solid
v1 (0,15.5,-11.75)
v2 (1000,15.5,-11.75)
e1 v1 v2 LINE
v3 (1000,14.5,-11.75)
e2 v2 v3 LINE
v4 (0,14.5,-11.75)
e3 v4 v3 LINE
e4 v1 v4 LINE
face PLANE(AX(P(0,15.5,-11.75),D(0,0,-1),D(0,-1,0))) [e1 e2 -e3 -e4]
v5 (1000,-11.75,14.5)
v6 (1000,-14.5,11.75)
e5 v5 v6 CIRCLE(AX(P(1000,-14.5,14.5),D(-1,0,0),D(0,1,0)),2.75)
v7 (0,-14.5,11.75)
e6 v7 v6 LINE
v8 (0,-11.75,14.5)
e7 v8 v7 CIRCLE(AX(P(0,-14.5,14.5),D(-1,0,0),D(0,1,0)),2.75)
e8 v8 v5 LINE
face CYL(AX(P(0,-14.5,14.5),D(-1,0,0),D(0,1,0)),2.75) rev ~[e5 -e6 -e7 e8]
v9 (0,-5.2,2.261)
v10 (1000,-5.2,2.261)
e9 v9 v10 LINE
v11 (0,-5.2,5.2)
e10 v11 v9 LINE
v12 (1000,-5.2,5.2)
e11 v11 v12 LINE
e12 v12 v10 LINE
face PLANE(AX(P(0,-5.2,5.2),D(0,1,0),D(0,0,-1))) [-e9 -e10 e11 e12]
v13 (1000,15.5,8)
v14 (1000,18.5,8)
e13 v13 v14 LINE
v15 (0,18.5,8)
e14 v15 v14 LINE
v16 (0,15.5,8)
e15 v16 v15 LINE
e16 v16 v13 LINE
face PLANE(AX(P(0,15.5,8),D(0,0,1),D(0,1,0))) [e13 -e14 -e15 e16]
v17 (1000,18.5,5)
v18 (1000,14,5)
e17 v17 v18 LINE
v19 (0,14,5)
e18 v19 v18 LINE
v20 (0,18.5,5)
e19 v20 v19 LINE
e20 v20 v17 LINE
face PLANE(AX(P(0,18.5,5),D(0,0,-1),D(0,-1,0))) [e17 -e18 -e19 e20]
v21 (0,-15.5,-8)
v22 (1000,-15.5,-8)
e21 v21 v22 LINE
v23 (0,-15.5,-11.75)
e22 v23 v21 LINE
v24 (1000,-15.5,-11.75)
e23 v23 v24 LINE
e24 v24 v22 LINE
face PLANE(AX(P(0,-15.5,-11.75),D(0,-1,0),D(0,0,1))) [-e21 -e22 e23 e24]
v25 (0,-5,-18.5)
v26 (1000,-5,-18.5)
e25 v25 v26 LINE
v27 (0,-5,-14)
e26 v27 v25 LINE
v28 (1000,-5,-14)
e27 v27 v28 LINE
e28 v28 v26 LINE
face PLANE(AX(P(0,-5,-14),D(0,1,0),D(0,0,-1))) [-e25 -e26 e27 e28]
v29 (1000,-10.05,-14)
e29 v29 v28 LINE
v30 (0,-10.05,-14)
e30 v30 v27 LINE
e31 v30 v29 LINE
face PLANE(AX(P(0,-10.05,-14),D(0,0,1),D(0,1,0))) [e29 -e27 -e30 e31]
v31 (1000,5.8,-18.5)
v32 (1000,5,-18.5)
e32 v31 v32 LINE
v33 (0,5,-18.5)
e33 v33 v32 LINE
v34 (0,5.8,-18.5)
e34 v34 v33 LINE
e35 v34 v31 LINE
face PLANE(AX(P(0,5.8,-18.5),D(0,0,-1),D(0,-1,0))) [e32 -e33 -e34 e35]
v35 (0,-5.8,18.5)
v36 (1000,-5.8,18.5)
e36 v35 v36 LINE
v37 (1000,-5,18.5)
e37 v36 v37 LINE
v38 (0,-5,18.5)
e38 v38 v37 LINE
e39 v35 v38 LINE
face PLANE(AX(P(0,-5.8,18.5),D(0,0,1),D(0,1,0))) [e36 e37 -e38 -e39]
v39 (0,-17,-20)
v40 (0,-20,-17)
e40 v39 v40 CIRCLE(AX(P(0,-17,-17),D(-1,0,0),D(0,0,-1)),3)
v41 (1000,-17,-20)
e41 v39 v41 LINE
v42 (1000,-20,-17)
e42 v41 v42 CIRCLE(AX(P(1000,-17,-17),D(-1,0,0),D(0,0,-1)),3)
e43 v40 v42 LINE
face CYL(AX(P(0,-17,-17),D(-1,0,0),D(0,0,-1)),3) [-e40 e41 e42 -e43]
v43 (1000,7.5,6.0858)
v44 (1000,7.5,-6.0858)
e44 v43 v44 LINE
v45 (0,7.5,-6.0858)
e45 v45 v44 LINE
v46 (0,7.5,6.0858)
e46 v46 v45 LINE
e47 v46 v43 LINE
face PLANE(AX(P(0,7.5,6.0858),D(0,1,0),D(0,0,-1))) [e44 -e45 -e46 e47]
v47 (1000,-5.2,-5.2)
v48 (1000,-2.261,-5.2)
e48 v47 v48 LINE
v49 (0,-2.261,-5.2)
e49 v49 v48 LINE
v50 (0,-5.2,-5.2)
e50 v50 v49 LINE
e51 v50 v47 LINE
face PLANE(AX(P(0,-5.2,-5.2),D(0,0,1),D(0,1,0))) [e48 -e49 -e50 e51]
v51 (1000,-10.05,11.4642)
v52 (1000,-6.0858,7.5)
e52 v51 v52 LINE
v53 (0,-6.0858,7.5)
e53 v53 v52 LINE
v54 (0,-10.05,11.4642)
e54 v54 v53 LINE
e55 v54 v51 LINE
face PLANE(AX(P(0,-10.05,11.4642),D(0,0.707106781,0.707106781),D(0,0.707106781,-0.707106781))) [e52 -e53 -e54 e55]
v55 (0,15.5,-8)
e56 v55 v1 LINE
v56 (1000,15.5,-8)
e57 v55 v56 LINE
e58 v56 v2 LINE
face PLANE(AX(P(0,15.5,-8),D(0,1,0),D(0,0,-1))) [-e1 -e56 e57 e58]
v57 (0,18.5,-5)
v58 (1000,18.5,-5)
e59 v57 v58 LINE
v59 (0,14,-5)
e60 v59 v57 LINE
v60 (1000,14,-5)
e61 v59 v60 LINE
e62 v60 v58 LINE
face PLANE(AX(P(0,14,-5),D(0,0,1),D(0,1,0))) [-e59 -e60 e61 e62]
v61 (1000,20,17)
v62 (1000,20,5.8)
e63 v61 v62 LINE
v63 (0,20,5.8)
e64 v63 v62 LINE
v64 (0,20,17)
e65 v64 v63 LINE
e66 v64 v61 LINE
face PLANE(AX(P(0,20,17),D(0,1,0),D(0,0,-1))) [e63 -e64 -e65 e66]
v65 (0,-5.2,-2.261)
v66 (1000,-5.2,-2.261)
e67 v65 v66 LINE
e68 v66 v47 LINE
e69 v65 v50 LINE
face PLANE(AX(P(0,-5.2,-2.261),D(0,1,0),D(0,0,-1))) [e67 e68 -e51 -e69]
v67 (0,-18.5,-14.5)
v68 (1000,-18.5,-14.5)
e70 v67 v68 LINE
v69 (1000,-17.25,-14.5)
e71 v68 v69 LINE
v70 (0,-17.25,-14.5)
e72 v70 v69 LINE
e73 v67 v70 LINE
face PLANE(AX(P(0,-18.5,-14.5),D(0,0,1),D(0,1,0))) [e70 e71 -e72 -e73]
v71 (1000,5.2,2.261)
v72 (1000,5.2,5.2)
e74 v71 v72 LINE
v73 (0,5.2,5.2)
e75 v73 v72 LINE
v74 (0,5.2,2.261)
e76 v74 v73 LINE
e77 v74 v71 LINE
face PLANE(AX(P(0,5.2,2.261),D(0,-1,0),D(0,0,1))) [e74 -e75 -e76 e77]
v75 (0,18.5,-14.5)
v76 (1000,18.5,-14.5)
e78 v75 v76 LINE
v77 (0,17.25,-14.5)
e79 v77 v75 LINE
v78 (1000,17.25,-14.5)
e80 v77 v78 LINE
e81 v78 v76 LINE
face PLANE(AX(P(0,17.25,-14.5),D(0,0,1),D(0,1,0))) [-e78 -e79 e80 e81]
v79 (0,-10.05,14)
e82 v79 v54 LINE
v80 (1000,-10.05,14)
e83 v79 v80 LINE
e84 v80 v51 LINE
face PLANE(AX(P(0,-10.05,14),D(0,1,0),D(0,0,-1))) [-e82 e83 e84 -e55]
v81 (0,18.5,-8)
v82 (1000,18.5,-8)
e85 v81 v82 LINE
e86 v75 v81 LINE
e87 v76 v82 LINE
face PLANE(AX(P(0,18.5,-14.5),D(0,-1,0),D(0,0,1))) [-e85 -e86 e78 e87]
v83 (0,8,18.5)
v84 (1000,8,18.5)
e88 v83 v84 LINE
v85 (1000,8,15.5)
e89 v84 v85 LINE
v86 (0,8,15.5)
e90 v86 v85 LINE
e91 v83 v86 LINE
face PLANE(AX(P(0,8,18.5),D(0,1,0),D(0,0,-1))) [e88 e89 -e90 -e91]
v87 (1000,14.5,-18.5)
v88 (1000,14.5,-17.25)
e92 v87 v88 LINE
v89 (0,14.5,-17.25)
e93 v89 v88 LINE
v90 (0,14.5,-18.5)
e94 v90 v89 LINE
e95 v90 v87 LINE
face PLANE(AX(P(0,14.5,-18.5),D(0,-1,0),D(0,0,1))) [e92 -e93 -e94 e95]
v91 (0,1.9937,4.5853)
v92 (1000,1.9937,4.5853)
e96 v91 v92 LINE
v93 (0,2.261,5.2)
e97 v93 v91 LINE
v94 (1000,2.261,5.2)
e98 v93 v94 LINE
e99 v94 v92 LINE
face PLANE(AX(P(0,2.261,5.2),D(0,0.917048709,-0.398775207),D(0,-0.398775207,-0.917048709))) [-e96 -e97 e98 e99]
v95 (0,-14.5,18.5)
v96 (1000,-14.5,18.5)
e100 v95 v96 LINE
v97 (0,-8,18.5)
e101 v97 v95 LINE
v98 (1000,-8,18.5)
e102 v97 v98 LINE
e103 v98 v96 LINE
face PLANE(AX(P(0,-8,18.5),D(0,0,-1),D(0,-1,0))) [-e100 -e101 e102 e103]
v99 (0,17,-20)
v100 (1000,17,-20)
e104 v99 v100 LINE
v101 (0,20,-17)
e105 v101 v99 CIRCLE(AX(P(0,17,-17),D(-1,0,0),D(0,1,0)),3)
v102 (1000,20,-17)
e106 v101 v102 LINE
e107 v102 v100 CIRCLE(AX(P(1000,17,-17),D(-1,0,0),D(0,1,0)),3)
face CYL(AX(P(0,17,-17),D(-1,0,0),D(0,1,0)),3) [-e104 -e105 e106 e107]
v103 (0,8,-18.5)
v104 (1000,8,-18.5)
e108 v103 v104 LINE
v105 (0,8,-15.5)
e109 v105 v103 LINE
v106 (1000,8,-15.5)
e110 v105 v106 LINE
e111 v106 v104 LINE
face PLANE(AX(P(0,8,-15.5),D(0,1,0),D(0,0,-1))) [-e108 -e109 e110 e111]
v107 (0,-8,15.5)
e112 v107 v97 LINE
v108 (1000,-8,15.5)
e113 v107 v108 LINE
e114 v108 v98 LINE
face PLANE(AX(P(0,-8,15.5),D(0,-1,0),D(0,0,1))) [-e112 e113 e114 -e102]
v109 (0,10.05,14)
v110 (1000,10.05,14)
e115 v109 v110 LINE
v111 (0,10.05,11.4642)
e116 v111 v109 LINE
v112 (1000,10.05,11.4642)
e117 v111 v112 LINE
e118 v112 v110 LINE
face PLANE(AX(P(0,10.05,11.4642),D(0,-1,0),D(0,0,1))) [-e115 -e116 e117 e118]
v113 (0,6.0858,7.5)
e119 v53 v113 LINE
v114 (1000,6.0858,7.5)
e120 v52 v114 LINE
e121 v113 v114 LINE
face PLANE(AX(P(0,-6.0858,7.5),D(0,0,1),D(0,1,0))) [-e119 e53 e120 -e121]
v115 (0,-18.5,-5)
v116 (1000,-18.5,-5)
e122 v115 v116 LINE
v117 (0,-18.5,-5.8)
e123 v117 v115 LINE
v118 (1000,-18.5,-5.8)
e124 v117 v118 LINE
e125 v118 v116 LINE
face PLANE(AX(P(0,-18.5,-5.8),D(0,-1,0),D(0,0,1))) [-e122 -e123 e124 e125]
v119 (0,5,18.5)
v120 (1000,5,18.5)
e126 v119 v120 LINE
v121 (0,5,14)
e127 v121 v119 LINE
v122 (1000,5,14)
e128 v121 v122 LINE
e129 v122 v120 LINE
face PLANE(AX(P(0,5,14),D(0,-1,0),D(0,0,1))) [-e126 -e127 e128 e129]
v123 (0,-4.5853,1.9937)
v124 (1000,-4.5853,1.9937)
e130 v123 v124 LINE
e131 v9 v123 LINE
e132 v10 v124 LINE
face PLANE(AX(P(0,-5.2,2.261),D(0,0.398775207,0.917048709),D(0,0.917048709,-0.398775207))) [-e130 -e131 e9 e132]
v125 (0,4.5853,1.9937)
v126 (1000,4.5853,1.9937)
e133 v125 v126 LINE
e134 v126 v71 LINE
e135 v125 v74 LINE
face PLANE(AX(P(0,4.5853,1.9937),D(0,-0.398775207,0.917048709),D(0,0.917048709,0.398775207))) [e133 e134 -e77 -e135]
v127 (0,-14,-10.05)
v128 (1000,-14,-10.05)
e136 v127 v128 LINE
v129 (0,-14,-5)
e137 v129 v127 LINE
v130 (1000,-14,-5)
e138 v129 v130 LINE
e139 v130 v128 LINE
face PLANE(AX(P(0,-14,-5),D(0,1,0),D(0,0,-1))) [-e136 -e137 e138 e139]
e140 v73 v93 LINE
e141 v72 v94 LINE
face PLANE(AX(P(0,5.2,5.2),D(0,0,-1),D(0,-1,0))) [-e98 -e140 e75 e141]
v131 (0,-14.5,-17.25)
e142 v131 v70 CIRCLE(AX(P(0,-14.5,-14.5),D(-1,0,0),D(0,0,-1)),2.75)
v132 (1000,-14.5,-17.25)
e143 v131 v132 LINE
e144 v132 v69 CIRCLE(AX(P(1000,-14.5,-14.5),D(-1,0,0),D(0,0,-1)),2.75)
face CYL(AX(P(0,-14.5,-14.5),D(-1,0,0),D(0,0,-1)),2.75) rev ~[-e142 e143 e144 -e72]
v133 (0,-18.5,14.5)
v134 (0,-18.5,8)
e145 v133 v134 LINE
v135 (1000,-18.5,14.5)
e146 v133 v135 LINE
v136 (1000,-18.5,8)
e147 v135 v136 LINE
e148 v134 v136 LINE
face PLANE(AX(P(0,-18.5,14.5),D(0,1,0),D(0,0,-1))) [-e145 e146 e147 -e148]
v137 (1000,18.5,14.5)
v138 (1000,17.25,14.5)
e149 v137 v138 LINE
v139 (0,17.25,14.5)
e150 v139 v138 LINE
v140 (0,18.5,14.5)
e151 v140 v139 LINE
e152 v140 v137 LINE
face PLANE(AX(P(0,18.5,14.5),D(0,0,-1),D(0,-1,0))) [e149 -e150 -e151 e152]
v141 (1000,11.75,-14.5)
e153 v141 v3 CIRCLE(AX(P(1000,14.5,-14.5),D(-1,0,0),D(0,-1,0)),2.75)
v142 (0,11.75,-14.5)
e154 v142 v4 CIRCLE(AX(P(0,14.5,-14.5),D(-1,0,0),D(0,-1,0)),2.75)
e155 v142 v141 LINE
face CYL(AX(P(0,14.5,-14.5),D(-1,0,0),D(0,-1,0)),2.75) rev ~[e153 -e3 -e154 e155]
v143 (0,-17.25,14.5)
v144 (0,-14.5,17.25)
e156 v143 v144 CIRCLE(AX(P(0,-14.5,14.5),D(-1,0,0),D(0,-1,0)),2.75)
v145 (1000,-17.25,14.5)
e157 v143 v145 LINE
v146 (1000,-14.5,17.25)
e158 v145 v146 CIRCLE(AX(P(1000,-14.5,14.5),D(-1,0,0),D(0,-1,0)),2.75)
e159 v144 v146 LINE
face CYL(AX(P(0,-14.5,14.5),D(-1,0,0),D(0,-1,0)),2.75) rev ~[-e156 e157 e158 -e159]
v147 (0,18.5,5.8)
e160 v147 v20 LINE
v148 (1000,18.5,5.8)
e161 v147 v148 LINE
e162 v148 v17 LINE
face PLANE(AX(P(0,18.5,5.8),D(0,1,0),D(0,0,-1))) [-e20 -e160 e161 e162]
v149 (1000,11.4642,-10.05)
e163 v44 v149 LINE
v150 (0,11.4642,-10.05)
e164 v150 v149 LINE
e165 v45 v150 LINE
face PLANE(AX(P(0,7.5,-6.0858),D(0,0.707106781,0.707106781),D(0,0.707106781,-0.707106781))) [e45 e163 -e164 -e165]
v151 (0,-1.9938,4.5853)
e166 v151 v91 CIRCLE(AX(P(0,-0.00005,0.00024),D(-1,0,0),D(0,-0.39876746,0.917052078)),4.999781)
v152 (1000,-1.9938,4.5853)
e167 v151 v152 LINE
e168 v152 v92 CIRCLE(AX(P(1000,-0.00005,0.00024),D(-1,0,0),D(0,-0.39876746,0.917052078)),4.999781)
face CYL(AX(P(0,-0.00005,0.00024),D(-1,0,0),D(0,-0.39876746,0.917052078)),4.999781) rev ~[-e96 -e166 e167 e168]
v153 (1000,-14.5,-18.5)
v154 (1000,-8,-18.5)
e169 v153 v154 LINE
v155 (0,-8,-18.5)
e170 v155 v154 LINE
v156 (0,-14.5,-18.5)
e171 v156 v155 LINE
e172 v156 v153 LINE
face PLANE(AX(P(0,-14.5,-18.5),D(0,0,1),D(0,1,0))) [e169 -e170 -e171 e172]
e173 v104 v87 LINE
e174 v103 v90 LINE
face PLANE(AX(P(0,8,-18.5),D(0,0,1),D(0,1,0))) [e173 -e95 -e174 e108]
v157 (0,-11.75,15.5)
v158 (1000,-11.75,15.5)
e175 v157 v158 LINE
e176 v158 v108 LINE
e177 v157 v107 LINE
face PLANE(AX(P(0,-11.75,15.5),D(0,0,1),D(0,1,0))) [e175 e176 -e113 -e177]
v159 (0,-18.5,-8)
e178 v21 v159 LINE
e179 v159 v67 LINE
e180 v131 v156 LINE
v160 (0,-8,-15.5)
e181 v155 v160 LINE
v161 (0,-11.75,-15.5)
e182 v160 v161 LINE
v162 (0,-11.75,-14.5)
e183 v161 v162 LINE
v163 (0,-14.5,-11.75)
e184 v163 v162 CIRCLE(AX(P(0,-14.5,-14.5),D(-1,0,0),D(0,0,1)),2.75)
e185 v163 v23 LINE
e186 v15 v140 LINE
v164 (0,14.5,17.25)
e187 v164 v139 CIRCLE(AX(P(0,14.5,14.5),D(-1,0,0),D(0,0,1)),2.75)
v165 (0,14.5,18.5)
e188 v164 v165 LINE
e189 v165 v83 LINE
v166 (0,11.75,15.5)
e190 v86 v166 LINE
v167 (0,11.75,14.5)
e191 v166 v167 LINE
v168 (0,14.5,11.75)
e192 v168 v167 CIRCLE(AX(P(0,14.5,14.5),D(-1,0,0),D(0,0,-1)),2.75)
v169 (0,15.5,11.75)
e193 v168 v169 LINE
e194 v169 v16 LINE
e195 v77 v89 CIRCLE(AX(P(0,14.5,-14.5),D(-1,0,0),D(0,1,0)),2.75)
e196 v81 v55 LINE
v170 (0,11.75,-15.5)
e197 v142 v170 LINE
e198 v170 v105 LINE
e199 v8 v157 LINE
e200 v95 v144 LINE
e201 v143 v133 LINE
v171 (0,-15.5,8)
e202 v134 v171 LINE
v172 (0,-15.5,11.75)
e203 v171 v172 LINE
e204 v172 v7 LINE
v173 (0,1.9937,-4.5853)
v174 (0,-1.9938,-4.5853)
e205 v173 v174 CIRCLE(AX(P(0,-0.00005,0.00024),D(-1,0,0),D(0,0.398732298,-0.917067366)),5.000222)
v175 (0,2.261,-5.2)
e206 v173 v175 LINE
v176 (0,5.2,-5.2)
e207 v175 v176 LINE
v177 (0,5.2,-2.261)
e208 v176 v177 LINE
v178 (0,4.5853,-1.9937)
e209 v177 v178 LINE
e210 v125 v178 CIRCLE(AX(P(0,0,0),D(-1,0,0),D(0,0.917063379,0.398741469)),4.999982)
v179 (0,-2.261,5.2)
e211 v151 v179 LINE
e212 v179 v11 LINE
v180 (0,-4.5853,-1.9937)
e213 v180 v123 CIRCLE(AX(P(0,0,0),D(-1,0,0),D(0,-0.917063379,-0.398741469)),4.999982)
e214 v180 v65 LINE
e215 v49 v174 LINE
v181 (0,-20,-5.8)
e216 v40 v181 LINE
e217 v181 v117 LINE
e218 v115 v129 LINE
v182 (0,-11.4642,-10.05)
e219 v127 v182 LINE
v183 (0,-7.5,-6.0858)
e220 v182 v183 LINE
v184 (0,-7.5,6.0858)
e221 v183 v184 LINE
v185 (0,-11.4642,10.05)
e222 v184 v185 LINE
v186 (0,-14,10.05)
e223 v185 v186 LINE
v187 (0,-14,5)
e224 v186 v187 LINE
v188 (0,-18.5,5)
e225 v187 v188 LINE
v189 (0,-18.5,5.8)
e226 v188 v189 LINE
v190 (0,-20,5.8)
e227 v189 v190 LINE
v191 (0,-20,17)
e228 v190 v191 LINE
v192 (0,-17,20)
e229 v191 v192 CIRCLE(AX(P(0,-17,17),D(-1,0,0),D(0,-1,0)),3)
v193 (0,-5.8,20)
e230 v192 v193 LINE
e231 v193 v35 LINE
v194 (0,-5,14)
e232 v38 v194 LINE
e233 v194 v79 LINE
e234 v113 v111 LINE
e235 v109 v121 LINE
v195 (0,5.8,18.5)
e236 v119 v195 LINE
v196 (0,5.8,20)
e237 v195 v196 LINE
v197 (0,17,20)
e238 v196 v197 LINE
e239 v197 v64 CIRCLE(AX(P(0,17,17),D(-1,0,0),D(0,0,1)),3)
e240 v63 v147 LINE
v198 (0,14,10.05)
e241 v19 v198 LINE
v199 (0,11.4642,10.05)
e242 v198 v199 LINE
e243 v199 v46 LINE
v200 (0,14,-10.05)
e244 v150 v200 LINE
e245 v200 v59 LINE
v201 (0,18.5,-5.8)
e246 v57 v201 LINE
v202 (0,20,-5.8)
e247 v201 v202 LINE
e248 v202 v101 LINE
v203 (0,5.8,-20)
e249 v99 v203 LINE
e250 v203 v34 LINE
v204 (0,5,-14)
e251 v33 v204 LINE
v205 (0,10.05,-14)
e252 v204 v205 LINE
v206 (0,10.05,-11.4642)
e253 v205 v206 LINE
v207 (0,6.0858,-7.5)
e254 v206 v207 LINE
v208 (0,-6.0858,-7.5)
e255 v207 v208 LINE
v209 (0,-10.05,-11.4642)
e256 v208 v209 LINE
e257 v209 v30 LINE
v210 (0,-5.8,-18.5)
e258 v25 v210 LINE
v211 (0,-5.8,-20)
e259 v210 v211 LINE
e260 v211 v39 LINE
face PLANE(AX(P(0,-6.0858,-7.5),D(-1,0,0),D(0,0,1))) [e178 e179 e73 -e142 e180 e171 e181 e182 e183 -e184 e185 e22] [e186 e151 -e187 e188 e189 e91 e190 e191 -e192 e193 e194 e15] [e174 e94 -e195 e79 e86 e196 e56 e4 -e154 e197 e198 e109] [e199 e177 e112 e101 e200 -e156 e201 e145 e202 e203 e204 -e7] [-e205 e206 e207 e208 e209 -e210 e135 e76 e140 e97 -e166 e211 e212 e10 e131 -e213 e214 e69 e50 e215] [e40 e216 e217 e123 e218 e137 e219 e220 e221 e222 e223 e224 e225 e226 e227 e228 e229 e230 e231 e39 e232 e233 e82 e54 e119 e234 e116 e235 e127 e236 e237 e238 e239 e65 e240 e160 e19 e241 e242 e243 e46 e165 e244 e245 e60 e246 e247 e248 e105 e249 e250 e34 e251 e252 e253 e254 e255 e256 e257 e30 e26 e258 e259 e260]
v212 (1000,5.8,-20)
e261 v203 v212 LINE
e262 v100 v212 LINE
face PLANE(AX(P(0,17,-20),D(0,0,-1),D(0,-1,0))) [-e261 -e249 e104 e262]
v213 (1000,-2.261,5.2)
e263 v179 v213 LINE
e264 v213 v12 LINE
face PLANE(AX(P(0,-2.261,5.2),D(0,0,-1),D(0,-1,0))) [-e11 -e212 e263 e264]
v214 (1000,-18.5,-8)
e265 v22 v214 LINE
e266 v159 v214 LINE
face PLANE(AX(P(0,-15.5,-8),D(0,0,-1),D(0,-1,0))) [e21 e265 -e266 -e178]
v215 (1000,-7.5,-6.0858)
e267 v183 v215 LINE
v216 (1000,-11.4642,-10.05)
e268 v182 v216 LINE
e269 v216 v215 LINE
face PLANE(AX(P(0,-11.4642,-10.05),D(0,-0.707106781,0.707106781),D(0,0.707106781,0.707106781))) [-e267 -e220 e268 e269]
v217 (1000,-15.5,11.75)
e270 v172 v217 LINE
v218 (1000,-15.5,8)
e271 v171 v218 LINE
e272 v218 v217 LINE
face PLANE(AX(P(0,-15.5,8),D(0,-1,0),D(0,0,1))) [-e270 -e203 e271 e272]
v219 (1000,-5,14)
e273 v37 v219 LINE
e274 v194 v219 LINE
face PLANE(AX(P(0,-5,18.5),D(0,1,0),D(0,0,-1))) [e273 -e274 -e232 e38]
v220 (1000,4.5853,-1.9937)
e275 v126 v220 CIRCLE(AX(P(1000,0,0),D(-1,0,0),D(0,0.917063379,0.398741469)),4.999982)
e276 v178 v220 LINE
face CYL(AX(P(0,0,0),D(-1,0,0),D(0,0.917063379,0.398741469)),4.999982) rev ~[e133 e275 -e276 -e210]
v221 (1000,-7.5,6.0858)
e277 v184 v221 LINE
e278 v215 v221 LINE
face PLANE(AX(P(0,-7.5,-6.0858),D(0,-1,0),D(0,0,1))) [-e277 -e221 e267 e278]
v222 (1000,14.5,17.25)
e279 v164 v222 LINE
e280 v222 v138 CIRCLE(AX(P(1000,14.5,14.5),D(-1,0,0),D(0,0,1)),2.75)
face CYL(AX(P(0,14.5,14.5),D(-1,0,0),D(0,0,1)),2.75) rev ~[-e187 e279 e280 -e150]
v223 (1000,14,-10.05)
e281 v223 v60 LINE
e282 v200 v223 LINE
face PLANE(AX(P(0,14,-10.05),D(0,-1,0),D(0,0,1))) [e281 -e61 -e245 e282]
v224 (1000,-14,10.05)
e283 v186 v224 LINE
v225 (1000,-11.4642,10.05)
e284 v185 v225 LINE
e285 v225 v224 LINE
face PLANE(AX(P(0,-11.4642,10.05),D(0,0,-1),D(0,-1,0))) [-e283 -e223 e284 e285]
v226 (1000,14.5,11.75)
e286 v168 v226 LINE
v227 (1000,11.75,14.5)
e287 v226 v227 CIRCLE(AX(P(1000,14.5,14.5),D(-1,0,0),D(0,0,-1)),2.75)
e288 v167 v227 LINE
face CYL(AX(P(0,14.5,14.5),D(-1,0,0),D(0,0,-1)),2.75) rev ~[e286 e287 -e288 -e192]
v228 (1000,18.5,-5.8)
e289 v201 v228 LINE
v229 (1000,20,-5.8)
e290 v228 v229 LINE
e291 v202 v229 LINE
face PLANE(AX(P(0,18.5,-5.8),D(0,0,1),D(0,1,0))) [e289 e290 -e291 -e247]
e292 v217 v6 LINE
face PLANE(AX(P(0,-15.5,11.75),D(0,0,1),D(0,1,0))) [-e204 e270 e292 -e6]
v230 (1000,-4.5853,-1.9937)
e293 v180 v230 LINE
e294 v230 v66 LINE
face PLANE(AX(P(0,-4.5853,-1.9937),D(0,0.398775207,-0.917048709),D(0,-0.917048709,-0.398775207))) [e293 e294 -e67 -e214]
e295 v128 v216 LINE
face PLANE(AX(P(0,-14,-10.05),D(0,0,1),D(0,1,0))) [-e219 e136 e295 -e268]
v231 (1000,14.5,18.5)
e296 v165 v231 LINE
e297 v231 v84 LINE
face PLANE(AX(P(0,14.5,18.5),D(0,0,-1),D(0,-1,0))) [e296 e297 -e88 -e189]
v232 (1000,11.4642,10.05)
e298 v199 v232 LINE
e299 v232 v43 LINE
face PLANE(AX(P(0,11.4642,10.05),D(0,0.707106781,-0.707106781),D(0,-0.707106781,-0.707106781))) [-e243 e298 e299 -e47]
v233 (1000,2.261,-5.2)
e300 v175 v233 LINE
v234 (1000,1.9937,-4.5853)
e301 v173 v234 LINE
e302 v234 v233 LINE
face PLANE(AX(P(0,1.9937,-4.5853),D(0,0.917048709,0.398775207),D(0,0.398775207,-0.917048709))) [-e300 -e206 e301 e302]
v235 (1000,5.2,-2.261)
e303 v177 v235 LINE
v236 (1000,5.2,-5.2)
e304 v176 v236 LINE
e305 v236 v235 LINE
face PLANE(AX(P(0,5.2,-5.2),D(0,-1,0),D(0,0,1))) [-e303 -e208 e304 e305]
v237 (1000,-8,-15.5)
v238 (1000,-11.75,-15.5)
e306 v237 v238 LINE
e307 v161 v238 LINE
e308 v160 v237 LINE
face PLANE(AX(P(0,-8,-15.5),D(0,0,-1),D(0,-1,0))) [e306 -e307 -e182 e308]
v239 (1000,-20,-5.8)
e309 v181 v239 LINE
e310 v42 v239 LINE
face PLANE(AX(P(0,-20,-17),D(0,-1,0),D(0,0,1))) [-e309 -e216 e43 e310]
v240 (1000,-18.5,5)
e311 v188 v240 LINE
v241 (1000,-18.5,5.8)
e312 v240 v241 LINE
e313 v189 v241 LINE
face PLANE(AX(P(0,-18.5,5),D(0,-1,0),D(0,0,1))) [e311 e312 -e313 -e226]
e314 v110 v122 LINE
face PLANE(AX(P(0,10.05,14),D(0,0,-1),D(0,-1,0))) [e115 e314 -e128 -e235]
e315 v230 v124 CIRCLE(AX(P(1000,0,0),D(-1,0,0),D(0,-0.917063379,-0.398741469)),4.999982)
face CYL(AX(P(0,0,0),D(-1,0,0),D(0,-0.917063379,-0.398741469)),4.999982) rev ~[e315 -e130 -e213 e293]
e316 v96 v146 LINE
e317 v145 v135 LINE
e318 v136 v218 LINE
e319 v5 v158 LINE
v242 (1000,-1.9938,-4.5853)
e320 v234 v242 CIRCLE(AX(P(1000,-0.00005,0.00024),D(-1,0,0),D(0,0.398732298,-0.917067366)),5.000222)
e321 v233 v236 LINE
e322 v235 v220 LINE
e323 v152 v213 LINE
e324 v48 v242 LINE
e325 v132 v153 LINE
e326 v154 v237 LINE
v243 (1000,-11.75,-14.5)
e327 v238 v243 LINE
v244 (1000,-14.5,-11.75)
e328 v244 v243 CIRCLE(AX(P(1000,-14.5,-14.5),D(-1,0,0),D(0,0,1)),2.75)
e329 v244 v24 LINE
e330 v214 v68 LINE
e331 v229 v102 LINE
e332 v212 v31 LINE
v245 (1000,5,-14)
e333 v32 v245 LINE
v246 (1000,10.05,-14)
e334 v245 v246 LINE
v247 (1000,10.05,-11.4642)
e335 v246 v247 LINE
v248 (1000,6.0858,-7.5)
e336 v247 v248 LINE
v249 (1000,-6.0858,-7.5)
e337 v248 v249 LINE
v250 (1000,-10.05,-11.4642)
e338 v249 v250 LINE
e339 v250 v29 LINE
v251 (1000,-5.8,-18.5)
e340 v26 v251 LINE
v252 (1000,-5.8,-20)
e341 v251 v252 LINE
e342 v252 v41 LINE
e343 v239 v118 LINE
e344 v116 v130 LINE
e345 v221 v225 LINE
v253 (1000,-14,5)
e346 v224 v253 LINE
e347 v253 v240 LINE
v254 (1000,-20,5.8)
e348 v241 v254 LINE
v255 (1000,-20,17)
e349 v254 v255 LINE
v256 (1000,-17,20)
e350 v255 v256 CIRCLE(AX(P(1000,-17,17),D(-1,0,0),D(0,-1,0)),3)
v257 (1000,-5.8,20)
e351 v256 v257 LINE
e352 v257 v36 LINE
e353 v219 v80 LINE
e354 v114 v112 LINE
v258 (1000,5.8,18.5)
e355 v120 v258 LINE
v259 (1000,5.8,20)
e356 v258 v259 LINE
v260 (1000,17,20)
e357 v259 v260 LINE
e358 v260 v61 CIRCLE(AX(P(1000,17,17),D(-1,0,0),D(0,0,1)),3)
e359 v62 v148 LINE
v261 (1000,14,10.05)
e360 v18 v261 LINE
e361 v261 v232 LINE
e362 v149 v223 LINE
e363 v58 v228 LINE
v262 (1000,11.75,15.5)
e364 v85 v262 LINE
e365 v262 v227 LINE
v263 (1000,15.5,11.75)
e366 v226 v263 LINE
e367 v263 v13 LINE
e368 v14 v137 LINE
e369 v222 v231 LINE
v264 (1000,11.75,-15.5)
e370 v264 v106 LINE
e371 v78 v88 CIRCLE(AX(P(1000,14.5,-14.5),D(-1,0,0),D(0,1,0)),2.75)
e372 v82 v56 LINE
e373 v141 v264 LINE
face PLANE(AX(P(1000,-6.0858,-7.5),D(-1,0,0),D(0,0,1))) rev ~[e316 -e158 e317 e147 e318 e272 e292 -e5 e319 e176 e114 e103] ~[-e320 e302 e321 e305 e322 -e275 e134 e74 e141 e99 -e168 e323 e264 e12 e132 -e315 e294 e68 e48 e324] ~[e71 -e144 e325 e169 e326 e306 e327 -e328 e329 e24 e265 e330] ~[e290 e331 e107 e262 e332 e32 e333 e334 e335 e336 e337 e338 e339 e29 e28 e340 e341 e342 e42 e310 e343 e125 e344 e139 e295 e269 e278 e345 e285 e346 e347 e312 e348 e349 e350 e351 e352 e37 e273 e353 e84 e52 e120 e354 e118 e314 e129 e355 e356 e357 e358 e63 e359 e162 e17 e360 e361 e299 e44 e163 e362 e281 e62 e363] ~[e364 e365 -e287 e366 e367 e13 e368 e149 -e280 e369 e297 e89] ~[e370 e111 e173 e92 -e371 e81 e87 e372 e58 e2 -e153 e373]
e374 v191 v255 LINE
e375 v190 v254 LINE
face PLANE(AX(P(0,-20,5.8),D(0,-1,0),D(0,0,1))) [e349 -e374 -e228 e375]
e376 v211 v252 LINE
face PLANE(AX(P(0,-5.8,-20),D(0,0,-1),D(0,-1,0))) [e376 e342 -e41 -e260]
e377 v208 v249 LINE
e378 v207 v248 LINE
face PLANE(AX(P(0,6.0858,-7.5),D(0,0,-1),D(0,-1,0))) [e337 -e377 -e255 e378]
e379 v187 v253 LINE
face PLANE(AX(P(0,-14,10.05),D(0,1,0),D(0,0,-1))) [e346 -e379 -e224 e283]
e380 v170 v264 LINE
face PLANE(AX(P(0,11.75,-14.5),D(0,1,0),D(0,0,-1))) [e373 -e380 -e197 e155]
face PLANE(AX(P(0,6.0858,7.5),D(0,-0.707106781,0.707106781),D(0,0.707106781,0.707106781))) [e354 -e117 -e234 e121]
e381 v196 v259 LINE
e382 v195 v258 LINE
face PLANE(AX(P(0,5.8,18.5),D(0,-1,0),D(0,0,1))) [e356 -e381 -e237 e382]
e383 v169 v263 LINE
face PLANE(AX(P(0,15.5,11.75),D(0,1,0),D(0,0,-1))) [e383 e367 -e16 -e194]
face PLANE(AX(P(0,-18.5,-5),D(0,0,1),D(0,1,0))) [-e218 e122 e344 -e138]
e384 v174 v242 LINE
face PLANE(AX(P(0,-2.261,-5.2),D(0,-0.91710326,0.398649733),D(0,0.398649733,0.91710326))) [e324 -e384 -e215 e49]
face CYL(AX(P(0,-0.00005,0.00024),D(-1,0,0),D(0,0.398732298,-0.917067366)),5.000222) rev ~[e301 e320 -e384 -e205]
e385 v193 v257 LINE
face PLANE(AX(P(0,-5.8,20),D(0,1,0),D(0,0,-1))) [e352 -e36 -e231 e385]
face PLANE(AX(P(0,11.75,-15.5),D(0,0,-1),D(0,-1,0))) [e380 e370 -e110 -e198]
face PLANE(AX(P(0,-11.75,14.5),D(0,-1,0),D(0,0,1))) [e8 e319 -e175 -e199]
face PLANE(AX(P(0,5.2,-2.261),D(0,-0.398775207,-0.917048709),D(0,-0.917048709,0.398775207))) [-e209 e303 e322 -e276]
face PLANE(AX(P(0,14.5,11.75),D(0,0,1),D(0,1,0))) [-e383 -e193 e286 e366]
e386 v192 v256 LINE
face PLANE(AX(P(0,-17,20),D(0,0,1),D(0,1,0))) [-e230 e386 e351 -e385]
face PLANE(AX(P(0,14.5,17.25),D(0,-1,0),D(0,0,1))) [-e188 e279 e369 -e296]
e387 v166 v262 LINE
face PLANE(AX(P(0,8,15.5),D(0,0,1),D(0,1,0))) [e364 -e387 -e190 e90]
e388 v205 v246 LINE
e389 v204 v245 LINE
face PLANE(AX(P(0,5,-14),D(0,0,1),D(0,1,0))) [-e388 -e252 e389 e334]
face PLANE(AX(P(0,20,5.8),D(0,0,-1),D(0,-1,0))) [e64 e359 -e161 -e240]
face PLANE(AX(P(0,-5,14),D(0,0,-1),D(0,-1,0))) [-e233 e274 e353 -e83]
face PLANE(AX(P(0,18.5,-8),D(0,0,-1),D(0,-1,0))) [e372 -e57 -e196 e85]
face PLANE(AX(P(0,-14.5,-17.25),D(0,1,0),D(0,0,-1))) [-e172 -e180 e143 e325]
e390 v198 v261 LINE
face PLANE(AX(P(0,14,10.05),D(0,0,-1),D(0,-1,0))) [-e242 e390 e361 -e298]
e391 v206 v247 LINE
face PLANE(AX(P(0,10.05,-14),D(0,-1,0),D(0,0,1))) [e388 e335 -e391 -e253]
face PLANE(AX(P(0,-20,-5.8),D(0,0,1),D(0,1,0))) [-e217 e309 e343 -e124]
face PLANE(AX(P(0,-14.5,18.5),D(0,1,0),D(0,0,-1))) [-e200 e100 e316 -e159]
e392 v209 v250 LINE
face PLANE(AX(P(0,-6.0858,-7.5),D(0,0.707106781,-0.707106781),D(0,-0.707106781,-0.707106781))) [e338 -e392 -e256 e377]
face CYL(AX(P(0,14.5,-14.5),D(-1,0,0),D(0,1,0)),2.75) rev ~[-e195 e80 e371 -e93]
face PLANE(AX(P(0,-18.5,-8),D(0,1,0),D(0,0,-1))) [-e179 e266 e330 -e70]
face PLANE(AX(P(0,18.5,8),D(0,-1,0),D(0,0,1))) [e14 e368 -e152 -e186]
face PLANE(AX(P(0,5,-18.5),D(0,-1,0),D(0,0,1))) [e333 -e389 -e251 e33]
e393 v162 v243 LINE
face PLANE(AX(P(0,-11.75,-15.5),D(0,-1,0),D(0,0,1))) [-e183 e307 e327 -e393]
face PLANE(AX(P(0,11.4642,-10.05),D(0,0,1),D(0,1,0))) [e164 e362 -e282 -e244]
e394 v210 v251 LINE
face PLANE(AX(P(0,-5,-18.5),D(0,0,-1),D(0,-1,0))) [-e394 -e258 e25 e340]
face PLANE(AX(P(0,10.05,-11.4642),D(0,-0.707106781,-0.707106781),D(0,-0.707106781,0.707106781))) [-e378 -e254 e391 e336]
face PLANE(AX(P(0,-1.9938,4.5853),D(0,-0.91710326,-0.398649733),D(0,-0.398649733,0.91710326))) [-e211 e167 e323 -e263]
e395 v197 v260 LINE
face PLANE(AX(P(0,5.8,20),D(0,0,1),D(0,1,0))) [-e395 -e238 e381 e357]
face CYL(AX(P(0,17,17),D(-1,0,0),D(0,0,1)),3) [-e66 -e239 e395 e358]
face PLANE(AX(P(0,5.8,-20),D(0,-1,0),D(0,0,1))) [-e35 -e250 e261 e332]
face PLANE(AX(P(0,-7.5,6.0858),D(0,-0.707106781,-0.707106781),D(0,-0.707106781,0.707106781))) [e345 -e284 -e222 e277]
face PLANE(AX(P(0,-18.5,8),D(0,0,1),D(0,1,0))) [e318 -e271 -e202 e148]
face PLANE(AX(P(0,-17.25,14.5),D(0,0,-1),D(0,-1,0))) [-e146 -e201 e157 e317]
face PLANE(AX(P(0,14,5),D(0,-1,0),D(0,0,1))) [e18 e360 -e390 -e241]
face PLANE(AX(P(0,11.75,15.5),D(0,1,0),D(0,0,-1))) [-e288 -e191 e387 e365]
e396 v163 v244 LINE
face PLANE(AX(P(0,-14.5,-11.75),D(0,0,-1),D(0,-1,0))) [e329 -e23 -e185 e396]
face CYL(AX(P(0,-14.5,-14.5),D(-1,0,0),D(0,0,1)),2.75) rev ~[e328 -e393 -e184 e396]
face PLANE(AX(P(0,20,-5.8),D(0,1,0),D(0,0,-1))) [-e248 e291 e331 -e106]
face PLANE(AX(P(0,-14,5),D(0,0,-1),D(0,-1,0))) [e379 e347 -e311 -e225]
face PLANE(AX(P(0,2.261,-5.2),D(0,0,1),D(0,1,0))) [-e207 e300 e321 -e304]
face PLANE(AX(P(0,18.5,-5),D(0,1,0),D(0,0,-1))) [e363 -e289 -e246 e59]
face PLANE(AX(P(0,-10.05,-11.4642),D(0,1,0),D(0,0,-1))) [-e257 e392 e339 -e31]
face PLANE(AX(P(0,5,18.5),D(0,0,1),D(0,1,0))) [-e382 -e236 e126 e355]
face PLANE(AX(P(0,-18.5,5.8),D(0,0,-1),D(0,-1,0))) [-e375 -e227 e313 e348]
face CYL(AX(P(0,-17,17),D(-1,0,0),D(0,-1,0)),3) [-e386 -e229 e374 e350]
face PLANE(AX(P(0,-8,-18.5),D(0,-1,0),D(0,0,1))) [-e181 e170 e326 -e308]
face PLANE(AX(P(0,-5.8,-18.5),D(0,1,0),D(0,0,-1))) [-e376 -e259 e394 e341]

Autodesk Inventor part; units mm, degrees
ref_plane "YZ Plane" through (0, 0, 0) normal (1, 0, 0) x (0, 1, 0)
ref_plane "Work Plane1" through (3000, -6.0858, -7.5) normal (1, 0, 0) x (0, 0, -1)
sketch "Sketch1" plane through (3000, -6.0858, -7.5) normal (1, 0, 0) x (0, 0, -1)
  line L0 (0, 0) -> (3.9642, -3.9642) projected
  line L1 (0, 12.1716) -> (0, 0) projected
  line L2 (3.9642, 16.1358) -> (0, 12.1716) projected
  line L3 (6.5, 16.1358) -> (3.9642, 16.1358) projected
  line L4 (6.5, 11.0858) -> (6.5, 16.1358) projected
  line L5 (11, 11.0858) -> (6.5, 11.0858) projected
  line L6 (11, 11.8858) -> (11, 11.0858) projected
  line L7 (12.5, 11.8858) -> (11, 11.8858) projected
  line L8 (12.5, 23.0858) -> (12.5, 11.8858) projected
  arc A0 (12.5, 23.0858) -> (9.5, 26.0858) centre (9.5, 23.0858) ccw projected
  line L9 (-1.7, 26.0858) -> (9.5, 26.0858) projected
  line L10 (-1.7, 24.5858) -> (-1.7, 26.0858) projected
  line L11 (-2.5, 24.5858) -> (-1.7, 24.5858) projected
  line L12 (-2.5, 20.0858) -> (-2.5, 24.5858) projected
  line L13 (2.55, 20.0858) -> (-2.5, 20.0858) projected
  line L14 (2.55, 17.55) -> (2.55, 20.0858) projected
  line L15 (-1.4142, 13.5858) -> (2.55, 17.55) projected
  line L16 (-13.5858, 13.5858) -> (-1.4142, 13.5858) projected
  line L17 (-17.55, 17.55) -> (-13.5858, 13.5858) projected
  line L18 (-17.55, 20.0858) -> (-17.55, 17.55) projected
  line L19 (-12.5, 20.0858) -> (-17.55, 20.0858) projected
  line L20 (-12.5, 24.5858) -> (-12.5, 20.0858) projected
  line L21 (-13.3, 24.5858) -> (-12.5, 24.5858) projected
  line L22 (-13.3, 26.0858) -> (-13.3, 24.5858) projected
  line L23 (-24.5, 26.0858) -> (-13.3, 26.0858) projected
  arc A1 (-24.5, 26.0858) -> (-27.5, 23.0858) centre (-24.5, 23.0858) ccw projected
  line L24 (-27.5, 11.8858) -> (-27.5, 23.0858) projected
  line L25 (-26, 11.8858) -> (-27.5, 11.8858) projected
  line L26 (-26, 11.0858) -> (-26, 11.8858) projected
  line L27 (-21.5, 11.0858) -> (-26, 11.0858) projected
  line L28 (-21.5, 16.1358) -> (-21.5, 11.0858) projected
  line L29 (-18.9642, 16.1358) -> (-21.5, 16.1358) projected
  line L30 (-15, 12.1716) -> (-18.9642, 16.1358) projected
  line L31 (-15, 0) -> (-15, 12.1716) projected
  line L32 (-18.9642, -3.9642) -> (-15, 0) projected
  line L33 (-21.5, -3.9642) -> (-18.9642, -3.9642) projected
  line L34 (-21.5, 1.0858) -> (-21.5, -3.9642) projected
  line L35 (-26, 1.0858) -> (-21.5, 1.0858) projected
  line L36 (-26, 0.2858) -> (-26, 1.0858) projected
  line L37 (-27.5, 0.2858) -> (-26, 0.2858) projected
  line L38 (-27.5, -10.9142) -> (-27.5, 0.2858) projected
  arc A2 (-27.5, -10.9142) -> (-24.5, -13.9142) centre (-24.5, -10.9142) ccw projected
  line L39 (-13.3, -13.9142) -> (-24.5, -13.9142) projected
  line L40 (-13.3, -12.4142) -> (-13.3, -13.9142) projected
  line L41 (-12.5, -12.4142) -> (-13.3, -12.4142) projected
  line L42 (-12.5, -7.9142) -> (-12.5, -12.4142) projected
  line L43 (-17.55, -7.9142) -> (-12.5, -7.9142) projected
  line L44 (-17.55, -5.3784) -> (-17.55, -7.9142) projected
  line L45 (-13.5858, -1.4142) -> (-17.55, -5.3784) projected
  line L46 (-1.4142, -1.4142) -> (-13.5858, -1.4142) projected
  line L47 (2.55, -5.3784) -> (-1.4142, -1.4142) projected
  line L48 (2.55, -7.9142) -> (2.55, -5.3784) projected
  line L49 (-2.5, -7.9142) -> (2.55, -7.9142) projected
  line L50 (-2.5, -12.4142) -> (-2.5, -7.9142) projected
  line L51 (-1.7, -12.4142) -> (-2.5, -12.4142) projected
  line L52 (-1.7, -13.9142) -> (-1.7, -12.4142) projected
  line L53 (9.5, -13.9142) -> (-1.7, -13.9142) projected
  arc A3 (9.5, -13.9142) -> (12.5, -10.9142) centre (9.5, -10.9142) ccw projected
  line L54 (12.5, 0.2858) -> (12.5, -10.9142) projected
  line L55 (11, 0.2858) -> (12.5, 0.2858) projected
  line L56 (11, 1.0858) -> (11, 0.2858) projected
  line L57 (6.5, 1.0858) -> (11, 1.0858) projected
  line L58 (6.5, -3.9642) -> (6.5, 1.0858) projected
  line L59 (3.9642, -3.9642) -> (6.5, -3.9642) projected
  line L60 (8, -1.9142) -> (11, -1.9142) projected
  line L61 (11, -1.9142) -> (11, -8.4142) projected
  line L62 (11, -8.4142) -> (9.75, -8.4142) projected
  arc A4 (7, -11.1642) -> (9.75, -8.4142) centre (7, -8.4142) ccw projected
  line L63 (7, -11.1642) -> (7, -12.4142) projected
  line L64 (7, -12.4142) -> (0.5, -12.4142) projected
  line L65 (0.5, -12.4142) -> (0.5, -9.4142) projected
  line L66 (0.5, -9.4142) -> (4.25, -9.4142) projected
  line L67 (4.25, -9.4142) -> (4.25, -8.4142) projected
  arc A5 (7, -5.6642) -> (4.25, -8.4142) centre (7, -8.4142) ccw projected
  line L68 (7, -5.6642) -> (8, -5.6642) projected
  line L69 (8, -5.6642) -> (8, -1.9142) projected
  line L70 (0.5, 21.5858) -> (0.5, 24.5858) projected
  line L71 (0.5, 24.5858) -> (7, 24.5858) projected
  line L72 (7, 24.5858) -> (7, 23.3358) projected
  arc A6 (9.75, 20.5858) -> (7, 23.3358) centre (7, 20.5858) ccw projected
  line L73 (9.75, 20.5858) -> (11, 20.5858) projected
  line L74 (11, 20.5858) -> (11, 14.0858) projected
  line L75 (11, 14.0858) -> (8, 14.0858) projected
  line L76 (8, 14.0858) -> (8, 17.8358) projected
  line L77 (8, 17.8358) -> (7, 17.8358) projected
  arc A7 (4.25, 20.5858) -> (7, 17.8358) centre (7, 20.5858) ccw projected
  line L78 (4.25, 20.5858) -> (4.25, 21.5858) projected
  line L79 (4.25, 21.5858) -> (0.5, 21.5858) projected
  line L80 (-23, 14.0858) -> (-26, 14.0858) projected
  line L81 (-26, 14.0858) -> (-26, 20.5858) projected
  line L82 (-26, 20.5858) -> (-24.75, 20.5858) projected
  arc A8 (-22, 23.3358) -> (-24.75, 20.5858) centre (-22, 20.5858) ccw projected
  line L83 (-22, 23.3358) -> (-22, 24.5858) projected
  line L84 (-22, 24.5858) -> (-15.5, 24.5858) projected
  line L85 (-15.5, 24.5858) -> (-15.5, 21.5858) projected
  line L86 (-15.5, 21.5858) -> (-19.25, 21.5858) projected
  line L87 (-19.25, 21.5858) -> (-19.25, 20.5858) projected
  arc A9 (-22, 17.8358) -> (-19.25, 20.5858) centre (-22, 20.5858) ccw projected
  line L88 (-22, 17.8358) -> (-23, 17.8358) projected
  line L89 (-23, 17.8358) -> (-23, 14.0858) projected
  line L90 (-15.5, -9.4142) -> (-15.5, -12.4142) projected
  line L91 (-15.5, -12.4142) -> (-22, -12.4142) projected
  line L92 (-22, -12.4142) -> (-22, -11.1642) projected
  arc A10 (-24.75, -8.4142) -> (-22, -11.1642) centre (-22, -8.4142) ccw projected
  line L93 (-24.75, -8.4142) -> (-26, -8.4142) projected
  line L94 (-26, -8.4142) -> (-26, -1.9142) projected
  line L95 (-26, -1.9142) -> (-23, -1.9142) projected
  line L96 (-23, -1.9142) -> (-23, -5.6642) projected
  line L97 (-23, -5.6642) -> (-22, -5.6642) projected
  arc A11 (-19.25, -8.4142) -> (-22, -5.6642) centre (-22, -8.4142) ccw projected
  line L98 (-19.25, -8.4142) -> (-19.25, -9.4142) projected
  line L99 (-19.25, -9.4142) -> (-15.5, -9.4142) projected
  line L100 (-9.4937, 1.5005) -> (-9.761, 0.8858) projected
  line L101 (-9.761, 0.8858) -> (-12.7, 0.8858) projected
  line L102 (-12.7, 0.8858) -> (-12.7, 3.8248) projected
  line L103 (-12.7, 3.8248) -> (-12.0853, 4.092) projected
  arc A12 (-12.0853, 8.0795) -> (-12.0853, 4.092) centre (-7.5, 6.0858) ccw projected
  line L104 (-12.0853, 8.0795) -> (-12.7, 8.3468) projected
  line L105 (-12.7, 8.3468) -> (-12.7, 11.2858) projected
  line L106 (-12.7, 11.2858) -> (-9.761, 11.2858) projected
  line L107 (-9.761, 11.2858) -> (-9.4937, 10.6711) projected
  arc A13 (-5.5063, 10.6711) -> (-9.4937, 10.6711) centre (-7.5, 6.0858) ccw projected
  line L108 (-5.5063, 10.6711) -> (-5.239, 11.2858) projected
  line L109 (-5.239, 11.2858) -> (-2.3, 11.2858) projected
  line L110 (-2.3, 11.2858) -> (-2.3, 8.3468) projected
  line L111 (-2.3, 8.3468) -> (-2.9147, 8.0795) projected
  arc A14 (-2.9147, 4.092) -> (-2.9147, 8.0795) centre (-7.5, 6.0858) ccw projected
  line L112 (-2.9147, 4.092) -> (-2.3, 3.8248) projected
  line L113 (-2.3, 3.8248) -> (-2.3, 0.8858) projected
  line L114 (-2.3, 0.8858) -> (-5.239, 0.8858) projected
  line L115 (-5.239, 0.8858) -> (-5.5063, 1.5005) projected
  arc A15 (-9.4937, 1.5005) -> (-5.5063, 1.5005) centre (-7.5, 6.0858) ccw projected
  point P0 (-7.5, 6.0858)
ref_plane "Work Plane2" through (0, -6.0858, -7.5) normal (-1, 0, 0) x (0, 0, 1)
sketch "Sketch2" plane through (0, -6.0858, -7.5) normal (-1, 0, 0) x (0, 0, 1)
  line L0 (0, 12.1716) -> (0, 0) projected
  line L1 (0, 0) -> (-3.9642, -3.9642) projected
  line L2 (-3.9642, -3.9642) -> (-6.5, -3.9642) projected
  line L3 (-6.5, -3.9642) -> (-6.5, 1.0858) projected
  line L4 (-6.5, 1.0858) -> (-11, 1.0858) projected
  line L5 (-11, 1.0858) -> (-11, 0.2858) projected
  line L6 (-11, 0.2858) -> (-12.5, 0.2858) projected
  line L7 (-12.5, 0.2858) -> (-12.5, -10.9142) projected
  arc A0 (-12.5, -10.9142) -> (-9.5, -13.9142) centre (-9.5, -10.9142) ccw projected
  line L8 (-9.5, -13.9142) -> (1.7, -13.9142) projected
  line L9 (1.7, -13.9142) -> (1.7, -12.4142) projected
  line L10 (1.7, -12.4142) -> (2.5, -12.4142) projected
  line L11 (2.5, -12.4142) -> (2.5, -7.9142) projected
  line L12 (2.5, -7.9142) -> (-2.55, -7.9142) projected
  line L13 (-2.55, -7.9142) -> (-2.55, -5.3784) projected
  line L14 (-2.55, -5.3784) -> (1.4142, -1.4142) projected
  line L15 (1.4142, -1.4142) -> (13.5858, -1.4142) projected
  line L16 (13.5858, -1.4142) -> (17.55, -5.3784) projected
  line L17 (17.55, -5.3784) -> (17.55, -7.9142) projected
  line L18 (17.55, -7.9142) -> (12.5, -7.9142) projected
  line L19 (12.5, -7.9142) -> (12.5, -12.4142) projected
  line L20 (12.5, -12.4142) -> (13.3, -12.4142) projected
  line L21 (13.3, -12.4142) -> (13.3, -13.9142) projected
  line L22 (13.3, -13.9142) -> (24.5, -13.9142) projected
  arc A1 (24.5, -13.9142) -> (27.5, -10.9142) centre (24.5, -10.9142) ccw projected
  line L23 (27.5, -10.9142) -> (27.5, 0.2858) projected
  line L24 (27.5, 0.2858) -> (26, 0.2858) projected
  line L25 (26, 0.2858) -> (26, 1.0858) projected
  line L26 (26, 1.0858) -> (21.5, 1.0858) projected
  line L27 (21.5, 1.0858) -> (21.5, -3.9642) projected
  line L28 (21.5, -3.9642) -> (18.9642, -3.9642) projected
  line L29 (18.9642, -3.9642) -> (15, 0) projected
  line L30 (15, 0) -> (15, 12.1716) projected
  line L31 (15, 12.1716) -> (18.9642, 16.1358) projected
  line L32 (18.9642, 16.1358) -> (21.5, 16.1358) projected
  line L33 (21.5, 16.1358) -> (21.5, 11.0858) projected
  line L34 (21.5, 11.0858) -> (26, 11.0858) projected
  line L35 (26, 11.0858) -> (26, 11.8858) projected
  line L36 (26, 11.8858) -> (27.5, 11.8858) projected
  line L37 (27.5, 11.8858) -> (27.5, 23.0858) projected
  arc A2 (27.5, 23.0858) -> (24.5, 26.0858) centre (24.5, 23.0858) ccw projected
  line L38 (24.5, 26.0858) -> (13.3, 26.0858) projected
  line L39 (13.3, 26.0858) -> (13.3, 24.5858) projected
  line L40 (13.3, 24.5858) -> (12.5, 24.5858) projected
  line L41 (12.5, 24.5858) -> (12.5, 20.0858) projected
  line L42 (12.5, 20.0858) -> (17.55, 20.0858) projected
  line L43 (17.55, 20.0858) -> (17.55, 17.55) projected
  line L44 (17.55, 17.55) -> (13.5858, 13.5858) projected
  line L45 (13.5858, 13.5858) -> (1.4142, 13.5858) projected
  line L46 (1.4142, 13.5858) -> (-2.55, 17.55) projected
  line L47 (-2.55, 17.55) -> (-2.55, 20.0858) projected
  line L48 (-2.55, 20.0858) -> (2.5, 20.0858) projected
  line L49 (2.5, 20.0858) -> (2.5, 24.5858) projected
  line L50 (2.5, 24.5858) -> (1.7, 24.5858) projected
  line L51 (1.7, 24.5858) -> (1.7, 26.0858) projected
  line L52 (1.7, 26.0858) -> (-9.5, 26.0858) projected
  arc A3 (-9.5, 26.0858) -> (-12.5, 23.0858) centre (-9.5, 23.0858) ccw projected
  line L53 (-12.5, 23.0858) -> (-12.5, 11.8858) projected
  line L54 (-12.5, 11.8858) -> (-11, 11.8858) projected
  line L55 (-11, 11.8858) -> (-11, 11.0858) projected
  line L56 (-11, 11.0858) -> (-6.5, 11.0858) projected
  line L57 (-6.5, 11.0858) -> (-6.5, 16.1358) projected
  line L58 (-6.5, 16.1358) -> (-3.9642, 16.1358) projected
  line L59 (-3.9642, 16.1358) -> (0, 12.1716) projected
  line L60 (-11, -1.9142) -> (-8, -1.9142) projected
  line L61 (-8, -1.9142) -> (-8, -5.6642) projected
  line L62 (-8, -5.6642) -> (-7, -5.6642) projected
  arc A4 (-4.25, -8.4142) -> (-7, -5.6642) centre (-7, -8.4142) ccw projected
  line L63 (-4.25, -8.4142) -> (-4.25, -9.4142) projected
  line L64 (-4.25, -9.4142) -> (-0.5, -9.4142) projected
  line L65 (-0.5, -9.4142) -> (-0.5, -12.4142) projected
  line L66 (-0.5, -12.4142) -> (-7, -12.4142) projected
  line L67 (-7, -12.4142) -> (-7, -11.1642) projected
  arc A5 (-9.75, -8.4142) -> (-7, -11.1642) centre (-7, -8.4142) ccw projected
  line L68 (-9.75, -8.4142) -> (-11, -8.4142) projected
  line L69 (-11, -8.4142) -> (-11, -1.9142) projected
  line L70 (-0.5, 24.5858) -> (-0.5, 21.5858) projected
  line L71 (-0.5, 21.5858) -> (-4.25, 21.5858) projected
  line L72 (-4.25, 21.5858) -> (-4.25, 20.5858) projected
  arc A6 (-7, 17.8358) -> (-4.25, 20.5858) centre (-7, 20.5858) ccw projected
  line L73 (-7, 17.8358) -> (-8, 17.8358) projected
  line L74 (-8, 17.8358) -> (-8, 14.0858) projected
  line L75 (-8, 14.0858) -> (-11, 14.0858) projected
  line L76 (-11, 14.0858) -> (-11, 20.5858) projected
  line L77 (-11, 20.5858) -> (-9.75, 20.5858) projected
  arc A7 (-7, 23.3358) -> (-9.75, 20.5858) centre (-7, 20.5858) ccw projected
  line L78 (-7, 23.3358) -> (-7, 24.5858) projected
  line L79 (-7, 24.5858) -> (-0.5, 24.5858) projected
  line L80 (26, 14.0858) -> (23, 14.0858) projected
  line L81 (23, 14.0858) -> (23, 17.8358) projected
  line L82 (23, 17.8358) -> (22, 17.8358) projected
  arc A8 (19.25, 20.5858) -> (22, 17.8358) centre (22, 20.5858) ccw projected
  line L83 (19.25, 20.5858) -> (19.25, 21.5858) projected
  line L84 (19.25, 21.5858) -> (15.5, 21.5858) projected
  line L85 (15.5, 21.5858) -> (15.5, 24.5858) projected
  line L86 (15.5, 24.5858) -> (22, 24.5858) projected
  line L87 (22, 24.5858) -> (22, 23.3358) projected
  arc A9 (24.75, 20.5858) -> (22, 23.3358) centre (22, 20.5858) ccw projected
  line L88 (24.75, 20.5858) -> (26, 20.5858) projected
  line L89 (26, 20.5858) -> (26, 14.0858) projected
  line L90 (15.5, -12.4142) -> (15.5, -9.4142) projected
  line L91 (15.5, -9.4142) -> (19.25, -9.4142) projected
  line L92 (19.25, -9.4142) -> (19.25, -8.4142) projected
  arc A10 (22, -5.6642) -> (19.25, -8.4142) centre (22, -8.4142) ccw projected
  line L93 (22, -5.6642) -> (23, -5.6642) projected
  line L94 (23, -5.6642) -> (23, -1.9142) projected
  line L95 (23, -1.9142) -> (26, -1.9142) projected
  line L96 (26, -1.9142) -> (26, -8.4142) projected
  line L97 (26, -8.4142) -> (24.75, -8.4142) projected
  arc A11 (22, -11.1642) -> (24.75, -8.4142) centre (22, -8.4142) ccw projected
  line L98 (22, -11.1642) -> (22, -12.4142) projected
  line L99 (22, -12.4142) -> (15.5, -12.4142) projected
  line L100 (9.761, 0.8858) -> (9.4937, 1.5005) projected
  arc A12 (5.5063, 1.5005) -> (9.4937, 1.5005) centre (7.5, 6.0858) ccw projected
  line L101 (5.5063, 1.5005) -> (5.239, 0.8858) projected
  line L102 (5.239, 0.8858) -> (2.3, 0.8858) projected
  line L103 (2.3, 0.8858) -> (2.3, 3.8248) projected
  line L104 (2.3, 3.8248) -> (2.9147, 4.092) projected
  arc A13 (2.9147, 8.0795) -> (2.9147, 4.092) centre (7.5, 6.0858) ccw projected
  line L105 (2.9147, 8.0795) -> (2.3, 8.3468) projected
  line L106 (2.3, 8.3468) -> (2.3, 11.2858) projected
  line L107 (2.3, 11.2858) -> (5.239, 11.2858) projected
  line L108 (5.239, 11.2858) -> (5.5063, 10.6711) projected
  arc A14 (9.4937, 10.6711) -> (5.5063, 10.6711) centre (7.5, 6.0858) ccw projected
  line L109 (9.4937, 10.6711) -> (9.761, 11.2858) projected
  line L110 (9.761, 11.2858) -> (12.7, 11.2858) projected
  line L111 (12.7, 11.2858) -> (12.7, 8.3468) projected
  line L112 (12.7, 8.3468) -> (12.0853, 8.0795) projected
  arc A15 (12.0853, 4.092) -> (12.0853, 8.0795) centre (7.5, 6.0858) ccw projected
  line L113 (12.0853, 4.092) -> (12.7, 3.8248) projected
  line L114 (12.7, 3.8248) -> (12.7, 0.8858) projected
  line L115 (12.7, 0.8858) -> (9.761, 0.8858) projected
  point P0 (7.5, 6.0858)
extrude "Extrusion2" add sketch "Sketch2" against normal blind 1000
properties part number "40401m" material "Aluminum 6061"
